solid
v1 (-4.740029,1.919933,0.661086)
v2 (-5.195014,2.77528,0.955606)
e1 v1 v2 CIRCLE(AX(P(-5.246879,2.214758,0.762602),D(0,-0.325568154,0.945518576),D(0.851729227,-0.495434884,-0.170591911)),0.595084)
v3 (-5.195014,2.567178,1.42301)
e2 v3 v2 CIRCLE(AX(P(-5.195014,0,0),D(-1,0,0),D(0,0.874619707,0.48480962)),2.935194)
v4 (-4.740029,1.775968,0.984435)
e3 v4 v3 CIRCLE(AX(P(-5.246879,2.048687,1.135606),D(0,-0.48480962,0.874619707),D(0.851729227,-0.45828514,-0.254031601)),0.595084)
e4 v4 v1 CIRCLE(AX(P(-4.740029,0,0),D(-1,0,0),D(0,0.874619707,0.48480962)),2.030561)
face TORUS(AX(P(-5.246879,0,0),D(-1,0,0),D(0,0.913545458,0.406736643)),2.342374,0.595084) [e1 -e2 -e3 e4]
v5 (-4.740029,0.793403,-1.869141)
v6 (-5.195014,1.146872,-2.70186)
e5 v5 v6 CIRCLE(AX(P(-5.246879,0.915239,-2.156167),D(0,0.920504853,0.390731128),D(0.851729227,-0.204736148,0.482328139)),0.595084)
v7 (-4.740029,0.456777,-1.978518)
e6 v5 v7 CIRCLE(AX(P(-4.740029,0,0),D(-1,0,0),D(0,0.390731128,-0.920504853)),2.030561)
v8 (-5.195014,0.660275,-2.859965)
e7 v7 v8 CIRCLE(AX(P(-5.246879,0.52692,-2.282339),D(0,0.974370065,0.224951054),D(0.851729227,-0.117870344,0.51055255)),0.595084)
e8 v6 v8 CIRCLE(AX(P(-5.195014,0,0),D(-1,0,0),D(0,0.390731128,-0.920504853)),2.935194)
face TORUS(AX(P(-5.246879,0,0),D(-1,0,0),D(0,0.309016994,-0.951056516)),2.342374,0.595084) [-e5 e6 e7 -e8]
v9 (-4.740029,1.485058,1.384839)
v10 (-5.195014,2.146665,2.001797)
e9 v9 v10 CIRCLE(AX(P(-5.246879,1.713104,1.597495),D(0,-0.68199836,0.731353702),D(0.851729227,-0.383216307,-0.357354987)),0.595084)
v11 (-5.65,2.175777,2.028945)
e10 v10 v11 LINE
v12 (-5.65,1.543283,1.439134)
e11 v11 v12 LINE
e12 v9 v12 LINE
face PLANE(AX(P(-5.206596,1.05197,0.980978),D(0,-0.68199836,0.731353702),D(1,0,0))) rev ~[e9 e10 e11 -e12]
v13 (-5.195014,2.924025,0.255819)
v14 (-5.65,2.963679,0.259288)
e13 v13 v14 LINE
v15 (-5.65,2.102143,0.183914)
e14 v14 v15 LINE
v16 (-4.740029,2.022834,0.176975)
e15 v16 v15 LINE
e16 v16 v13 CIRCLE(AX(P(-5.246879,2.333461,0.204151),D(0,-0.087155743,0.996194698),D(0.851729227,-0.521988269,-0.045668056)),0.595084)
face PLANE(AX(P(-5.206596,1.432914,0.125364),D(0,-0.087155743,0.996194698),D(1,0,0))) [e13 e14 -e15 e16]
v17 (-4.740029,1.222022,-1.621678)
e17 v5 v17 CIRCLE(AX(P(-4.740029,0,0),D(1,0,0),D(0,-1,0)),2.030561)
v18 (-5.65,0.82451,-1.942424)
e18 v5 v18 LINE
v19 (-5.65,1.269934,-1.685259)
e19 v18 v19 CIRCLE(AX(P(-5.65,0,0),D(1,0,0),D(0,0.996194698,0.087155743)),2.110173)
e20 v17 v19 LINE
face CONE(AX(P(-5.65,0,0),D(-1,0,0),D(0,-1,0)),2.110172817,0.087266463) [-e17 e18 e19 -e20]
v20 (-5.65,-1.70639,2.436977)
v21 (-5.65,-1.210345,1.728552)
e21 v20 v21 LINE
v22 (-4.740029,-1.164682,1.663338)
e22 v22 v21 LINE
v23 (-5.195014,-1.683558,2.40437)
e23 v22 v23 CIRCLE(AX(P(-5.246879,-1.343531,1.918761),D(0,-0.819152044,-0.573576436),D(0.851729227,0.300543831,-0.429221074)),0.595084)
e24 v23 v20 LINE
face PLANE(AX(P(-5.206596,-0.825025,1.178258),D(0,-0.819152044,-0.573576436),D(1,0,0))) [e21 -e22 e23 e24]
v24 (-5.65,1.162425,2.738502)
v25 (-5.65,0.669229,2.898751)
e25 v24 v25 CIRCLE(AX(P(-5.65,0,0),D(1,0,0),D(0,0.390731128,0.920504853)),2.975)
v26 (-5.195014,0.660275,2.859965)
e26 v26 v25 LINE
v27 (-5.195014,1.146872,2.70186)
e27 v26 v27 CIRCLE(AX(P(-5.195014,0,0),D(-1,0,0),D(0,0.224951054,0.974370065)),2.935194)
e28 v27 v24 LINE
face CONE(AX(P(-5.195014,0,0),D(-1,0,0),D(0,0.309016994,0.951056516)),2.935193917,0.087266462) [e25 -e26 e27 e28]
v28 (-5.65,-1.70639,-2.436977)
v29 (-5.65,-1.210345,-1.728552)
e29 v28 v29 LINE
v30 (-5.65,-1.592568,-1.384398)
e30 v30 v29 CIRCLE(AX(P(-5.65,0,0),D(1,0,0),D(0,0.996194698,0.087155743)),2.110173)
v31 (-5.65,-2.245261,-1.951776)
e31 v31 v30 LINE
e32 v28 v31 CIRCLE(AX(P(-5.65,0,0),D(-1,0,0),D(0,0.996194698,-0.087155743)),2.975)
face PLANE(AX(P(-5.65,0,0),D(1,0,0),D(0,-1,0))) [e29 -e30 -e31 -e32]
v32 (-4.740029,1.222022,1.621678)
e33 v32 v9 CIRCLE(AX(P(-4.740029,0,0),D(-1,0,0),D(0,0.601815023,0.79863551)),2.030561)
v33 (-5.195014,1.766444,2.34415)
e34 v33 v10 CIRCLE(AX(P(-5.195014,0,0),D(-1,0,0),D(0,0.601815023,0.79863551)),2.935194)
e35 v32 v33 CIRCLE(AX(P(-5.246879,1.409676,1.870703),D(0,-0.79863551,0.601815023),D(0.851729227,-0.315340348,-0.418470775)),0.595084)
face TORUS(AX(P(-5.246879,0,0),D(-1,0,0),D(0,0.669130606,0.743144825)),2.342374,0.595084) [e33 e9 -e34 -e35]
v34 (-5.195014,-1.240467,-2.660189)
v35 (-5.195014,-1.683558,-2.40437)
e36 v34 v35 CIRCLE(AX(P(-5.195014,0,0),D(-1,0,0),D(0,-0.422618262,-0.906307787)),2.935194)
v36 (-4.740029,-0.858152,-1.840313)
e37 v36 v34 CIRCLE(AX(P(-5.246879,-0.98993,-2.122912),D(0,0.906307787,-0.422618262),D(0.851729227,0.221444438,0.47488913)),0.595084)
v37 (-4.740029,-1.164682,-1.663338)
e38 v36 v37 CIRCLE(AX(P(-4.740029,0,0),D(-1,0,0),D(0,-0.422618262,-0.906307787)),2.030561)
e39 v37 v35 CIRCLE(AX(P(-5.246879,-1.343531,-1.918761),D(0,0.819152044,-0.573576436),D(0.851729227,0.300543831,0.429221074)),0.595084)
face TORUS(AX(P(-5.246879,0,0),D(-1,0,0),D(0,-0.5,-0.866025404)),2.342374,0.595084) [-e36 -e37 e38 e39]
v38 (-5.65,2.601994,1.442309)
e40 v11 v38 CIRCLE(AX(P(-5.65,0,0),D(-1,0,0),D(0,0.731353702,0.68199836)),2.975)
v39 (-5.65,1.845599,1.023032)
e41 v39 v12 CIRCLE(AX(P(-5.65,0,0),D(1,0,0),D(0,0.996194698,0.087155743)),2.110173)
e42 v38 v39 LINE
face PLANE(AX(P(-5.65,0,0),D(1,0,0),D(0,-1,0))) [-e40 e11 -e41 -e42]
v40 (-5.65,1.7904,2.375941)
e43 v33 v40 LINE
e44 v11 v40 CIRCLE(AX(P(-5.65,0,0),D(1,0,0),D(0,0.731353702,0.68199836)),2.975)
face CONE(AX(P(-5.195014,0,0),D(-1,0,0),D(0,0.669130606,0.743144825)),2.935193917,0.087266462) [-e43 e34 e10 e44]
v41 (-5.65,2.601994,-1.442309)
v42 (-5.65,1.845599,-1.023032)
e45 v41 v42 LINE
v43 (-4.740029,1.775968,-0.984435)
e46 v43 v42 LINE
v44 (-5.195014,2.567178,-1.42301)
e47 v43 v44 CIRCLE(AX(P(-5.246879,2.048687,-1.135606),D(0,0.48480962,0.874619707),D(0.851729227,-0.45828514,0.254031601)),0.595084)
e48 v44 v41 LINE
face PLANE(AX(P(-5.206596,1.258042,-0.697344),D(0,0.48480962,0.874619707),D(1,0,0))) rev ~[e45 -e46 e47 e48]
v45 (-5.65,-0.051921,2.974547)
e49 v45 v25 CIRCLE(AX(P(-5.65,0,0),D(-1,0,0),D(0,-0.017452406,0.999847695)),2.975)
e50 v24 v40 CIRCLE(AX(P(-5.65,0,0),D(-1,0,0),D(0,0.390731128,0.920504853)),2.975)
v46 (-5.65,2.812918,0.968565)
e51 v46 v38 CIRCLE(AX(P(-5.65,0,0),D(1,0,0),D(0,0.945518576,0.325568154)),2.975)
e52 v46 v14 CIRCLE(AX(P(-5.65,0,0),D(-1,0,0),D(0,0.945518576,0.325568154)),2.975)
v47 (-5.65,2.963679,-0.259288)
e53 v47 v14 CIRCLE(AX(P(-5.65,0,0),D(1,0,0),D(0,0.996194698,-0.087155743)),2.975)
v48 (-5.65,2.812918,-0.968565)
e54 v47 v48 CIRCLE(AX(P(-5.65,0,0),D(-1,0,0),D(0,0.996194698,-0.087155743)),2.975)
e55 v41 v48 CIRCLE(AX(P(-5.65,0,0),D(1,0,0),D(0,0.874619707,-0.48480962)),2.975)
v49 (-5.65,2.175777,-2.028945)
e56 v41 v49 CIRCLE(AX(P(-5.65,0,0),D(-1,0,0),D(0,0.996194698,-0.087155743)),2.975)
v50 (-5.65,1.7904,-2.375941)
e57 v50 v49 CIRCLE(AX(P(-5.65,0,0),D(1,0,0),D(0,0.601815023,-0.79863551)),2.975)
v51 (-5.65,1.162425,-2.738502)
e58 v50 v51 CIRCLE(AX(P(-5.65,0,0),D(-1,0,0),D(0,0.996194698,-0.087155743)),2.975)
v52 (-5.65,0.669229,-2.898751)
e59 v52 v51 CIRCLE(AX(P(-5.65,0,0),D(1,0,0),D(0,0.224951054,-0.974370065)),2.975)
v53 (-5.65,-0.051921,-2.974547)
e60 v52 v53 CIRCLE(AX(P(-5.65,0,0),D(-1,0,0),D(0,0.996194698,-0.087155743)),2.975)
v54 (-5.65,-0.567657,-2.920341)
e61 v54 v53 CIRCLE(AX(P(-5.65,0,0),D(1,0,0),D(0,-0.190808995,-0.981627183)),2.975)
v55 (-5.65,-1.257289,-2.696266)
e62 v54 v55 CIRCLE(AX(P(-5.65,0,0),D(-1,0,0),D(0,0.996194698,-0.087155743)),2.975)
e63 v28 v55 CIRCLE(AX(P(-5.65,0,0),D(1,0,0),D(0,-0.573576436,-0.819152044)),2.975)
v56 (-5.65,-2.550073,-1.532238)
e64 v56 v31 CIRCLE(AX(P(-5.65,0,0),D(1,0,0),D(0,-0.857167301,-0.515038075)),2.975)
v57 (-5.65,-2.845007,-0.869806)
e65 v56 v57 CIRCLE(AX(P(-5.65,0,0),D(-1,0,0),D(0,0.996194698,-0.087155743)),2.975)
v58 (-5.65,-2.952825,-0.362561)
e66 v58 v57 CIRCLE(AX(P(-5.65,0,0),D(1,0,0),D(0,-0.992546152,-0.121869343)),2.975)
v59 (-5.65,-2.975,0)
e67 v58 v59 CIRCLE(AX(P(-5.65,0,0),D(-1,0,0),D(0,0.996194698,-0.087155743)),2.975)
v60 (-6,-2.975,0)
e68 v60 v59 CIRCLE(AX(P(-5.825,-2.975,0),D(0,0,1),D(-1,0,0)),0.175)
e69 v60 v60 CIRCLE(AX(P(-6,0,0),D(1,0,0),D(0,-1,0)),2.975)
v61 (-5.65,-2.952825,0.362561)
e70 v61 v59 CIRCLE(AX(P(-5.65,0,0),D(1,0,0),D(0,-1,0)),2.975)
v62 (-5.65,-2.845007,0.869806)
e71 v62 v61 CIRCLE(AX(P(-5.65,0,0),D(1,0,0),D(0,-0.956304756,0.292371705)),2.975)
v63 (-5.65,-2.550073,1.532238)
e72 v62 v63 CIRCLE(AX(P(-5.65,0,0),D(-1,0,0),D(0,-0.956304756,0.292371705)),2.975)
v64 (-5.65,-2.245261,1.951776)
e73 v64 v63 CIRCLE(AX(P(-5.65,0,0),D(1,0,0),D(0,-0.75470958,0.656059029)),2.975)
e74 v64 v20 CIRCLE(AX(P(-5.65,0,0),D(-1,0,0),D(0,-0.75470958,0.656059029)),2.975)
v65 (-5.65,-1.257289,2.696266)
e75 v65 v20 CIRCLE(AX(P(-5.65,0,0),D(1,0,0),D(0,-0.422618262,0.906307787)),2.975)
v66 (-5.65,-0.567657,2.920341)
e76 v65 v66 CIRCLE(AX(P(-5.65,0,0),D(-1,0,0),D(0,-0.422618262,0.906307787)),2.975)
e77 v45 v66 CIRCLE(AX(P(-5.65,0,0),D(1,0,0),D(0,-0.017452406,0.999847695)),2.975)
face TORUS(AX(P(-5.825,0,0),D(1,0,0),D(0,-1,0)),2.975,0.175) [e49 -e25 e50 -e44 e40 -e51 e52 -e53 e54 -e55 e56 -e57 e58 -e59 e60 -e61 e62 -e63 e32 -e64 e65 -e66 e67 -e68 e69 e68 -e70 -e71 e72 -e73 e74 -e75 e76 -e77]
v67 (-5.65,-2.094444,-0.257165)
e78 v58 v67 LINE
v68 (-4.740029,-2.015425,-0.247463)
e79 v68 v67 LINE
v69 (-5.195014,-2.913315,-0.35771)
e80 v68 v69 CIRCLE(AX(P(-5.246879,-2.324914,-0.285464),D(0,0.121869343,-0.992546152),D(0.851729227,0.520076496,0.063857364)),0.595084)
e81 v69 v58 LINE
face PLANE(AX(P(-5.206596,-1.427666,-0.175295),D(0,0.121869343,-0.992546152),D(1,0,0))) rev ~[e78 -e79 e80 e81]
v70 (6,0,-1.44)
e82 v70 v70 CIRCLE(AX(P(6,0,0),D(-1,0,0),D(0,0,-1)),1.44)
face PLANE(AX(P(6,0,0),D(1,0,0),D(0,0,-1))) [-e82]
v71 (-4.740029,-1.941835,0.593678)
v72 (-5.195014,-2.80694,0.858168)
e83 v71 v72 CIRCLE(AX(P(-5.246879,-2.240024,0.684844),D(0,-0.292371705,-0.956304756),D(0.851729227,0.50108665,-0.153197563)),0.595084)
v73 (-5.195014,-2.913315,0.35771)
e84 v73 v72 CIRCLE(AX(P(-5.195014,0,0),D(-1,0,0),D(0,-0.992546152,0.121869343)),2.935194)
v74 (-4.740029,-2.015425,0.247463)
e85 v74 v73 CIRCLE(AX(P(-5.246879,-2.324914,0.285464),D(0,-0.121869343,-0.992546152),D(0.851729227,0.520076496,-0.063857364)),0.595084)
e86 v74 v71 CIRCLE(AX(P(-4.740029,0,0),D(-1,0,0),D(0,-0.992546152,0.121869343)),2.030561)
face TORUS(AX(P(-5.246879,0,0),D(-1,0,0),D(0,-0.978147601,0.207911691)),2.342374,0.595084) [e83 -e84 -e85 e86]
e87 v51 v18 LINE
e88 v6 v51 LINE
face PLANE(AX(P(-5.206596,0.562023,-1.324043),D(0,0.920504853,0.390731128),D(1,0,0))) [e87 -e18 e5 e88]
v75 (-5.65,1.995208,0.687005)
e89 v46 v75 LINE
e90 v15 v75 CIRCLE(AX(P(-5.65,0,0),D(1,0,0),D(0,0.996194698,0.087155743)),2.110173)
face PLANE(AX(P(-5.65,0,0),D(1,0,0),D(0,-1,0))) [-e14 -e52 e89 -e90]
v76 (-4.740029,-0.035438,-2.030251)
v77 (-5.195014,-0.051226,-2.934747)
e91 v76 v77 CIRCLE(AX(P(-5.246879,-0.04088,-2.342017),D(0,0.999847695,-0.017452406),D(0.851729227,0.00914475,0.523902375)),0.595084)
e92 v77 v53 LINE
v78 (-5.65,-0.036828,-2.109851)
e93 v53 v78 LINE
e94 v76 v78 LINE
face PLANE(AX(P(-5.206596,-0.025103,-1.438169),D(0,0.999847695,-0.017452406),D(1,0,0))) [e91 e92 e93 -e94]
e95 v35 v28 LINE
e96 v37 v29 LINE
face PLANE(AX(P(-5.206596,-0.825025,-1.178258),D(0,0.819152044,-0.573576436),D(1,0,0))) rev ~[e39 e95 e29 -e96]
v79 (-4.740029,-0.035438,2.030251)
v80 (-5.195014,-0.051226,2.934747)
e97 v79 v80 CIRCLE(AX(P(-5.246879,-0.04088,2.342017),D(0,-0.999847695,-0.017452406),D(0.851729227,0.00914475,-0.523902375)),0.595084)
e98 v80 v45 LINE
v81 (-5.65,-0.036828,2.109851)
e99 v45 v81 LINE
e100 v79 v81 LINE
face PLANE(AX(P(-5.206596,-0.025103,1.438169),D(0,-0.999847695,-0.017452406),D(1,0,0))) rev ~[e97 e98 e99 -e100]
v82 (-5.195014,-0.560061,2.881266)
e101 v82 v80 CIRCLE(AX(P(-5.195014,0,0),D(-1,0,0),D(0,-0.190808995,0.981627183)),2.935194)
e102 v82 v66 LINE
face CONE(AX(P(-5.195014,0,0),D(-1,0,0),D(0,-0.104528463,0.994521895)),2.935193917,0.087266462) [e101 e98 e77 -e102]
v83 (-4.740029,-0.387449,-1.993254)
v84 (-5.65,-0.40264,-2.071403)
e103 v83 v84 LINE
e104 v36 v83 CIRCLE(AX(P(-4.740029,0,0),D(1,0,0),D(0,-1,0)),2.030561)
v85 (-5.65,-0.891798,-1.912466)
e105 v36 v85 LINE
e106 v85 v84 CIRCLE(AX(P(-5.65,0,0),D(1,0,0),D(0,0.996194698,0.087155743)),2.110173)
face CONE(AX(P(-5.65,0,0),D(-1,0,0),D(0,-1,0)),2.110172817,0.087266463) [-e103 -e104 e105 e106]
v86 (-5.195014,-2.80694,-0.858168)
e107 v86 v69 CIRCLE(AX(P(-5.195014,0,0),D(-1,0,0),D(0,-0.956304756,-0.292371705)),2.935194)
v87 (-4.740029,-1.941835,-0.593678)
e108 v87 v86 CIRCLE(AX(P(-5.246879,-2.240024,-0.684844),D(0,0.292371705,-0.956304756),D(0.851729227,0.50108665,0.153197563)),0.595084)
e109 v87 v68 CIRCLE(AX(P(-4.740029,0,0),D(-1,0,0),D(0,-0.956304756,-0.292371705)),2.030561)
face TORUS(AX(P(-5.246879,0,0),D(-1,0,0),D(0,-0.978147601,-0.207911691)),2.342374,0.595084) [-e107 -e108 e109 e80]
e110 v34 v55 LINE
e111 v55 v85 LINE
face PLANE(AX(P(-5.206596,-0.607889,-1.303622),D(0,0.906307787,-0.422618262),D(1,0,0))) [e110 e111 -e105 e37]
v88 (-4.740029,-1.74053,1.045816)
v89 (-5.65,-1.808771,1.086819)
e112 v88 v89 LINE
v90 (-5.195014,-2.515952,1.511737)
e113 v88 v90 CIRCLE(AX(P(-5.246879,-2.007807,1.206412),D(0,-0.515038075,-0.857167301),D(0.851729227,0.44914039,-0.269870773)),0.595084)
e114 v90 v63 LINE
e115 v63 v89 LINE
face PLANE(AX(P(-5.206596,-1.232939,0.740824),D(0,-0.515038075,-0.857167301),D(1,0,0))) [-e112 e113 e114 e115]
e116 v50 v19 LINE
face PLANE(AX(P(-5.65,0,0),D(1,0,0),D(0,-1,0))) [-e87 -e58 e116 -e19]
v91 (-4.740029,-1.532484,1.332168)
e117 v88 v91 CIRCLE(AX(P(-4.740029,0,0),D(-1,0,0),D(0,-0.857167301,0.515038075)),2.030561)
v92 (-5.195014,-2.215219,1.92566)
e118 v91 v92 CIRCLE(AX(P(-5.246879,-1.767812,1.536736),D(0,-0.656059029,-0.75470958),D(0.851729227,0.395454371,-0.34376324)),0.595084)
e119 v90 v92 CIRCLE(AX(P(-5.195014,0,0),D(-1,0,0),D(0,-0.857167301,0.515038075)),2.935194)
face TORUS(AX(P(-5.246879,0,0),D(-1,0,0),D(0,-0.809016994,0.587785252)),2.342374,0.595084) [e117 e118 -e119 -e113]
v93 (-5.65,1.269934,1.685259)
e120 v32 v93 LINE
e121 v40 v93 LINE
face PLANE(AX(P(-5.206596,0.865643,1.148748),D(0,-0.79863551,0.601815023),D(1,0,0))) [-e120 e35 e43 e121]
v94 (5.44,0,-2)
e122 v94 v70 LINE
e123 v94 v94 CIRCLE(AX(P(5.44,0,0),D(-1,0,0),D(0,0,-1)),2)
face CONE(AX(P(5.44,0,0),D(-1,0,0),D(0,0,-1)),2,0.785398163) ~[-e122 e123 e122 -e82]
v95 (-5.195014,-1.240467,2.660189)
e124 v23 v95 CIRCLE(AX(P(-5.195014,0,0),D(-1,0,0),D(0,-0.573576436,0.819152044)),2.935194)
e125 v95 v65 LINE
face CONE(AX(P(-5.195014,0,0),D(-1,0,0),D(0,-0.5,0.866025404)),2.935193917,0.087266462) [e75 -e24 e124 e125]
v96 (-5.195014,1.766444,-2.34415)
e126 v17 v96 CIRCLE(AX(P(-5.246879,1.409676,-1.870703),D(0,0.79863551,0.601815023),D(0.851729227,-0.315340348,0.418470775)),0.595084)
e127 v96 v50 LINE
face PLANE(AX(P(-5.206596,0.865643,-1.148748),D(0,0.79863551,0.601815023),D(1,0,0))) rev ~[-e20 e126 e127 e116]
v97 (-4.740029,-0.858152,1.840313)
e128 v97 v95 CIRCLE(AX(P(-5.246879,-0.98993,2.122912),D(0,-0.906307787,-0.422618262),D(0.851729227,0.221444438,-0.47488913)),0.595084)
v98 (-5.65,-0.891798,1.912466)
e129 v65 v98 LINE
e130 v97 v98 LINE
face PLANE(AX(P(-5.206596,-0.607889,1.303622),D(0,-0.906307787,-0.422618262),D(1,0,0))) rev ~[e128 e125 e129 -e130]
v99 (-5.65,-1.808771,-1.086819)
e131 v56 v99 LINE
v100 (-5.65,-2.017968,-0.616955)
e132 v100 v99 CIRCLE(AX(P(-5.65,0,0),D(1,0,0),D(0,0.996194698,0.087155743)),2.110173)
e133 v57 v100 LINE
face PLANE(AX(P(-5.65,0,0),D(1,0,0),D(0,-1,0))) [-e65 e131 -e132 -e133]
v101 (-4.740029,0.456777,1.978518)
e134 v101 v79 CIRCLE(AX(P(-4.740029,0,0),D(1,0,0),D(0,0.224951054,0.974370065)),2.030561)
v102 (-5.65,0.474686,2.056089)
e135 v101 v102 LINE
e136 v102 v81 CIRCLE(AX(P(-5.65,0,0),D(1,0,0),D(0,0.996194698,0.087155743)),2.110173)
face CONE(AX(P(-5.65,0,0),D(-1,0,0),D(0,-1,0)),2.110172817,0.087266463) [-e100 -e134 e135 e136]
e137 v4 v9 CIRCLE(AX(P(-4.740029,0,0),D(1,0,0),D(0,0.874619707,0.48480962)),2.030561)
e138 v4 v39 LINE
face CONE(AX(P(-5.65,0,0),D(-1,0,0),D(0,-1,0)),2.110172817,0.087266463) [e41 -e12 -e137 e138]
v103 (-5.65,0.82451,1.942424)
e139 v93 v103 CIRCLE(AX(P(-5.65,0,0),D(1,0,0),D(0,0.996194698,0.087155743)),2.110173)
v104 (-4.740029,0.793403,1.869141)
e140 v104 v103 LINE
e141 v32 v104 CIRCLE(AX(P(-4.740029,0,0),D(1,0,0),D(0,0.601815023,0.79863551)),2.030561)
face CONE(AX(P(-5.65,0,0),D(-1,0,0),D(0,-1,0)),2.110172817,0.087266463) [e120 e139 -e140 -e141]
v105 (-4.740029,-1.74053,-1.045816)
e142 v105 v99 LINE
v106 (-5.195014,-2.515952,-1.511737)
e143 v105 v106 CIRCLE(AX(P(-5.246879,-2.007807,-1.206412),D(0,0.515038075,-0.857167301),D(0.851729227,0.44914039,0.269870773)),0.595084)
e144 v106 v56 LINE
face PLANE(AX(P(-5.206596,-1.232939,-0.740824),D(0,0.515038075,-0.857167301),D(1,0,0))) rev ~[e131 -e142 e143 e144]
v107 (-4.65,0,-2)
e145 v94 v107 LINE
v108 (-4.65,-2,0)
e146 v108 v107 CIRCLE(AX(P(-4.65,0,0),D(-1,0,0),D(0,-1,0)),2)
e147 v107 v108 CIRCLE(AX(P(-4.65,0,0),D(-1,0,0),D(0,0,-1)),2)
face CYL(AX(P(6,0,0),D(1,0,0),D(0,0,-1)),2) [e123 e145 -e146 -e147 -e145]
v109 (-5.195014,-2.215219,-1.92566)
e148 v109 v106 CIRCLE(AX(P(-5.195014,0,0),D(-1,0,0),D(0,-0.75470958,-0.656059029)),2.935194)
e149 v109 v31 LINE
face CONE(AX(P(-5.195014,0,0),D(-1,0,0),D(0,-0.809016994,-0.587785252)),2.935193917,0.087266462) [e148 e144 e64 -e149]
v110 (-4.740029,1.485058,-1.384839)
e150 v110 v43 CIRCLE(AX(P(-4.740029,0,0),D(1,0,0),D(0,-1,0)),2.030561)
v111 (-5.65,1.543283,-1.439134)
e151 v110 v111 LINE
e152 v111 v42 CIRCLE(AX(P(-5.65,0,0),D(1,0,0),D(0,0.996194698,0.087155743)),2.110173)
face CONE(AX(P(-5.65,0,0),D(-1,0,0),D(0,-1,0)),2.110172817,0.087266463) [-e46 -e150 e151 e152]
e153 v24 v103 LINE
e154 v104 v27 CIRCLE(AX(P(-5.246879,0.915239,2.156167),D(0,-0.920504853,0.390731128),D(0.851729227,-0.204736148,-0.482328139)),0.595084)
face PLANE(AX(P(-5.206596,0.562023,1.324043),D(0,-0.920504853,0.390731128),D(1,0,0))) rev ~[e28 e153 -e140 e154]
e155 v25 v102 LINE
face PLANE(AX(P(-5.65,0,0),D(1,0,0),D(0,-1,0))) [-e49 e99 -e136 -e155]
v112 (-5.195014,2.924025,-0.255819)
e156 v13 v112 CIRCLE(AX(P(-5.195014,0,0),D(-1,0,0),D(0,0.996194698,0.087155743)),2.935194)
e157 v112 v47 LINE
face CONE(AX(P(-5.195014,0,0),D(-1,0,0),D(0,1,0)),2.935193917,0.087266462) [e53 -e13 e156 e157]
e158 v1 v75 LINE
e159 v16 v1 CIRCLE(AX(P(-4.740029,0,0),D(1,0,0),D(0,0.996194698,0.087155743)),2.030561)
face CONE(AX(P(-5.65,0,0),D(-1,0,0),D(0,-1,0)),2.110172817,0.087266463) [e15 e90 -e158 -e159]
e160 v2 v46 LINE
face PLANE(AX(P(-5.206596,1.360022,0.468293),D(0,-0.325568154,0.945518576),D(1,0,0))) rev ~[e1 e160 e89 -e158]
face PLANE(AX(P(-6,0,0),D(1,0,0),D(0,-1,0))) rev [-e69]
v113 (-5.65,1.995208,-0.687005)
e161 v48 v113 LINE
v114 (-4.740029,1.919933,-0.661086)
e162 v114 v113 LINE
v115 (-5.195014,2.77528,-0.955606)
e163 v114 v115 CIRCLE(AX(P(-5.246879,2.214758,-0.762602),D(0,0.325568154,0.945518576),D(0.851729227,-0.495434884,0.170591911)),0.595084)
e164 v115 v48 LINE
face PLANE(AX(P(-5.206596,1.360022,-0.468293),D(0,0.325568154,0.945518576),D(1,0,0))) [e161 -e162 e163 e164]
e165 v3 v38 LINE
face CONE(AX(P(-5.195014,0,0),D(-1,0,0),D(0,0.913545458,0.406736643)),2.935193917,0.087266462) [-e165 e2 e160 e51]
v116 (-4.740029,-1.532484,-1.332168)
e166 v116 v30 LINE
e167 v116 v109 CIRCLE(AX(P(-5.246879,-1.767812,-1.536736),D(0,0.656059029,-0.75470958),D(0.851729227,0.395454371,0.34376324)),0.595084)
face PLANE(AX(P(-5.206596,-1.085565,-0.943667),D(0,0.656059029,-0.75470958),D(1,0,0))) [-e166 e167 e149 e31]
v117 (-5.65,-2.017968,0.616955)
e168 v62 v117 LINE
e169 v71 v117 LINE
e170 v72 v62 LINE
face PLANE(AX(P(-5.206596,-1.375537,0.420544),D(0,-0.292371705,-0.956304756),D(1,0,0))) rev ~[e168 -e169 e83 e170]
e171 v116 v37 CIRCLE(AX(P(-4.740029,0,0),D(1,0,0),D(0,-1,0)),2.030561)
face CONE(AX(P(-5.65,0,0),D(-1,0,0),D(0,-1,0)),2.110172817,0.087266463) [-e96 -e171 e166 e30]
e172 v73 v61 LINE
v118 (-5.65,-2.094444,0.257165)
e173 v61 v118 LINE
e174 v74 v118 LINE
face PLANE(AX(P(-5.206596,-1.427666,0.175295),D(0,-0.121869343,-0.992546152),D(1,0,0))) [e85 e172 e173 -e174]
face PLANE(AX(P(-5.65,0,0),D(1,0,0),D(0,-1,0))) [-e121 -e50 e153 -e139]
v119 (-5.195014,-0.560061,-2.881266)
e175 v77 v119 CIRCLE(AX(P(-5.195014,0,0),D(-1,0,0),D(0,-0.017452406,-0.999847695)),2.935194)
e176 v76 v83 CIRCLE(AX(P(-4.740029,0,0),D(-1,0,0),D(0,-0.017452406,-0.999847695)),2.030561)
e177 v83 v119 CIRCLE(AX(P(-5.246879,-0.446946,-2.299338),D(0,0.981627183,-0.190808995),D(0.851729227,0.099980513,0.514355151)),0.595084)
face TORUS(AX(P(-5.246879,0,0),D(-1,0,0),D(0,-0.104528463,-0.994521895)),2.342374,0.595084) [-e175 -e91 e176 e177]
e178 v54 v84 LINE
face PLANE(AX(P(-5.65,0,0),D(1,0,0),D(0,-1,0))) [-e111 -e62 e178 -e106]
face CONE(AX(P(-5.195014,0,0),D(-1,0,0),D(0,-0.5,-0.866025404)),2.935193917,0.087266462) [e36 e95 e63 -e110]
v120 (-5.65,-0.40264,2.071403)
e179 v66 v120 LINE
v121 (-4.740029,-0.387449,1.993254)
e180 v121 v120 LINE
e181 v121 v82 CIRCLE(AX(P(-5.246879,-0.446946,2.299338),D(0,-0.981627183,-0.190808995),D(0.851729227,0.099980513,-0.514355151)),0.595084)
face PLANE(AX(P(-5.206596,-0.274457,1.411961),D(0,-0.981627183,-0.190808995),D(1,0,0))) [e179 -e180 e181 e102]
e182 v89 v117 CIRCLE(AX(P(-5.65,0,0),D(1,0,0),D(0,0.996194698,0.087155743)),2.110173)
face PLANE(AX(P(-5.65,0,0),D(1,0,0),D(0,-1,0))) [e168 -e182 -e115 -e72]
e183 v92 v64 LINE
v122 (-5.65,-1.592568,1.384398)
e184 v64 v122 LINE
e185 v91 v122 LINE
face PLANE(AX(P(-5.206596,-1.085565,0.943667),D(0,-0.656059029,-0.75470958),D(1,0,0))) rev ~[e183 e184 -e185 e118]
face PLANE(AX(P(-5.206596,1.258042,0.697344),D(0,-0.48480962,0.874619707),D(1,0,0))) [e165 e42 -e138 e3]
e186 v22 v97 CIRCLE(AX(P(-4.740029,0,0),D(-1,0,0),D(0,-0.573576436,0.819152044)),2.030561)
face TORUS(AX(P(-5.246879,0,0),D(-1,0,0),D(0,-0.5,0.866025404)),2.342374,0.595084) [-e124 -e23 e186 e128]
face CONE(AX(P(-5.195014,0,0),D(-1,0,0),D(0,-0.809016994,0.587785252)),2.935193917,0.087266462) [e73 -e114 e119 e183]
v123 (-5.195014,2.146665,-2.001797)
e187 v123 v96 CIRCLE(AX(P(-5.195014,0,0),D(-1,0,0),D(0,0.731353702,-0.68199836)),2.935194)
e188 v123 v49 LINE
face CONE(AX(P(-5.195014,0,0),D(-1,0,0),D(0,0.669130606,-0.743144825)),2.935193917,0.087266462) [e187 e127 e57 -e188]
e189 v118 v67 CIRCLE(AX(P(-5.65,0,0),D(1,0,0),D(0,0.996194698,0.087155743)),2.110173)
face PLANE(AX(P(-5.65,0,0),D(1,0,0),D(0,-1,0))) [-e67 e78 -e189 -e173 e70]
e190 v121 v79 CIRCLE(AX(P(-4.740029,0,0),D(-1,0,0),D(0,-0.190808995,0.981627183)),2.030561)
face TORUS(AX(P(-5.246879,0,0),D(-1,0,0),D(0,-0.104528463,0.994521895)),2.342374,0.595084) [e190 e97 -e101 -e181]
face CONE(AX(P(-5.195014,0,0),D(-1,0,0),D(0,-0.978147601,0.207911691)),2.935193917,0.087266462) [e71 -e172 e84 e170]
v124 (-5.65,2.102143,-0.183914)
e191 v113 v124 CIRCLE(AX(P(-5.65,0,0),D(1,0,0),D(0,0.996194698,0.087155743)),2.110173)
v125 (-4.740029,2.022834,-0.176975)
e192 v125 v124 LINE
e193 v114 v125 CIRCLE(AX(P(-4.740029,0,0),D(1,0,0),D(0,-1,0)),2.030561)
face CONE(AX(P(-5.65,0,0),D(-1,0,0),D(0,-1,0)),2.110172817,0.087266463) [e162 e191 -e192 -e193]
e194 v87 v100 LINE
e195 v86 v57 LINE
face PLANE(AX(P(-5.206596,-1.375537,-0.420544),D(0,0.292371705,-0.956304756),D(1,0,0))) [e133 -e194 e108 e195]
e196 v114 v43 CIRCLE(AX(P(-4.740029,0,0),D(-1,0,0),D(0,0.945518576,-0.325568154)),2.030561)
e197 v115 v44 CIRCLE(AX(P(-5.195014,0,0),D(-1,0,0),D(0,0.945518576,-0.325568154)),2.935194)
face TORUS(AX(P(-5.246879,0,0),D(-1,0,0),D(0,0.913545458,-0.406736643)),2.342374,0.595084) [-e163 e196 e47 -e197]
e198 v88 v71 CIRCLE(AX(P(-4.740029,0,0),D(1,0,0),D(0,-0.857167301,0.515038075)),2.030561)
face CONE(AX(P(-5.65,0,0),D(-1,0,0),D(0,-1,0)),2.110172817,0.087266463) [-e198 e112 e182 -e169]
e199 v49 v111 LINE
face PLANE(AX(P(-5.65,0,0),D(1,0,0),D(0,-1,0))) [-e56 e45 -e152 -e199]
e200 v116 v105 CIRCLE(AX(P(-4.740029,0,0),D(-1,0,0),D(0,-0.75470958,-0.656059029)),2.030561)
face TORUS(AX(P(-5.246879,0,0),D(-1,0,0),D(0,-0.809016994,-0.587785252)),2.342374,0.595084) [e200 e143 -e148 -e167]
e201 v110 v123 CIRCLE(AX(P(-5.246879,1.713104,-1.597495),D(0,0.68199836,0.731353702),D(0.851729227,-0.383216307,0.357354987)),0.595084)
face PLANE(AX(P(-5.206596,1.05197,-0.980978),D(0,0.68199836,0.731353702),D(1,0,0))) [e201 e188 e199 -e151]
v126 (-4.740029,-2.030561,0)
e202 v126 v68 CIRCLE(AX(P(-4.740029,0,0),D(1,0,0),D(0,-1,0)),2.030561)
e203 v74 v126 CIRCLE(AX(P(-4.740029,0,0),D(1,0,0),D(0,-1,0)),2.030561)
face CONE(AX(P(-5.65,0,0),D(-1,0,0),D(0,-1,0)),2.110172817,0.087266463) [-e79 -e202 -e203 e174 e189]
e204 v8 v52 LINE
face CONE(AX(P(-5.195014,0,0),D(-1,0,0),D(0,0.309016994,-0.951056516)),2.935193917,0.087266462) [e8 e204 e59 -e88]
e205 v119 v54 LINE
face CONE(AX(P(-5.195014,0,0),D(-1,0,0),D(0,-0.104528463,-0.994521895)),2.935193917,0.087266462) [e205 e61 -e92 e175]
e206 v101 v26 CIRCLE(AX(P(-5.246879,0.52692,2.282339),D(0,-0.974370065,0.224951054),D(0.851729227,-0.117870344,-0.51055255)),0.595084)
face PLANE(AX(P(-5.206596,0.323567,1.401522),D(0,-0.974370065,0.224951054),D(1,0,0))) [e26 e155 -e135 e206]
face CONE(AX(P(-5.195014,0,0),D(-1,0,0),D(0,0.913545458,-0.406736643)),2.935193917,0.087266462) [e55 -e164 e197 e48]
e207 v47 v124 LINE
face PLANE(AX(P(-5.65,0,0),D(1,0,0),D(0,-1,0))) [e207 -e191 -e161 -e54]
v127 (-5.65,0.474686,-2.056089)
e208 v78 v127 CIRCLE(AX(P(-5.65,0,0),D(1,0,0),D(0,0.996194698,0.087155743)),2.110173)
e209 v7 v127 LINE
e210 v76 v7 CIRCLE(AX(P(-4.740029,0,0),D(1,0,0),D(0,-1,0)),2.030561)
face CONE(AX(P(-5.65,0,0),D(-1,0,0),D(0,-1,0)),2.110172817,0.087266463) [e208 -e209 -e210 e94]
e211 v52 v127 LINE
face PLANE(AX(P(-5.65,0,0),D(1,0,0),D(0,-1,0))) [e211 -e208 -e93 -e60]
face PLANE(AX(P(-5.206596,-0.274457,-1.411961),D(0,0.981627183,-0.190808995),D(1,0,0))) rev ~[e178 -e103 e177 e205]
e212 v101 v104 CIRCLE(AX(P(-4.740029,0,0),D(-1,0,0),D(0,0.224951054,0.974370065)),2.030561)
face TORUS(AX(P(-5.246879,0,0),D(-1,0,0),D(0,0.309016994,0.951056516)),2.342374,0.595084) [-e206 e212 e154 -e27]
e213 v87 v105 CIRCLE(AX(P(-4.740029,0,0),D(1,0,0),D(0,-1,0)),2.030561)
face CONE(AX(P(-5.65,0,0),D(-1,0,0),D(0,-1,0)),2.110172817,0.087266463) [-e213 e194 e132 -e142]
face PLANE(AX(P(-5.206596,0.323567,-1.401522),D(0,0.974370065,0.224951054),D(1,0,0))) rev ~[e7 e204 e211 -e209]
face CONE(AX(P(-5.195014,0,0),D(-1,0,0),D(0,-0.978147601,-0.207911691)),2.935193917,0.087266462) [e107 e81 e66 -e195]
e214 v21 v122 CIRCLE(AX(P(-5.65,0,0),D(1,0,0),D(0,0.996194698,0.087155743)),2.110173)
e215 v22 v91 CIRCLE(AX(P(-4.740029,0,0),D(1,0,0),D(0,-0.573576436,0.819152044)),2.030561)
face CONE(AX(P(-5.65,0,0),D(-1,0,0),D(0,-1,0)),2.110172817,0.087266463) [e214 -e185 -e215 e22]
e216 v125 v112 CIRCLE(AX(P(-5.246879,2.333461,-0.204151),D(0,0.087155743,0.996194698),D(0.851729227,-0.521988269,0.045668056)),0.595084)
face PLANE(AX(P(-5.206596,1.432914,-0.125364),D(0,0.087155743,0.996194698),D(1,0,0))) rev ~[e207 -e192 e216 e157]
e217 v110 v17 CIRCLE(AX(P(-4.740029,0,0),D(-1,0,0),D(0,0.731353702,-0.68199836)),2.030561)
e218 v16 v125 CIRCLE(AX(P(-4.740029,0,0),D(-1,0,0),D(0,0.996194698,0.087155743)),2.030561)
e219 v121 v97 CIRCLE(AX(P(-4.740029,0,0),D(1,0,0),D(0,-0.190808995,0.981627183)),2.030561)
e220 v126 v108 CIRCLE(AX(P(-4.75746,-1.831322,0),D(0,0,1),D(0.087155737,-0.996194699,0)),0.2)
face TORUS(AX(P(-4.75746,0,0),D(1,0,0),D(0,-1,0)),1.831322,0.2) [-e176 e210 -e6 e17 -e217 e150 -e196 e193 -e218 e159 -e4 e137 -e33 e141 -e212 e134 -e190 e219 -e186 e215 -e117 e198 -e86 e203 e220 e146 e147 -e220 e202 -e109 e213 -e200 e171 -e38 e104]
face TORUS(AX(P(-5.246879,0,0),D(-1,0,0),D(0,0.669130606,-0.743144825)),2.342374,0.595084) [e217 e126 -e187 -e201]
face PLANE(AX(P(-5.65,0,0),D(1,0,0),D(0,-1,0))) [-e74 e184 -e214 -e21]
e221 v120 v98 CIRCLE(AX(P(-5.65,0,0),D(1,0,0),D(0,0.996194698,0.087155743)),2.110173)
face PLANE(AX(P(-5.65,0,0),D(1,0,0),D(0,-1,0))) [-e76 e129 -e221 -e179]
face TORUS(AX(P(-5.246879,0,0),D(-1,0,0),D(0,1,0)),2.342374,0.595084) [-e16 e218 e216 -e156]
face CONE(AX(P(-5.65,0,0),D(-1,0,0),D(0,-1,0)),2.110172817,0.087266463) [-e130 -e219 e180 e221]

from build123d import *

# Parameters (mm, degrees)
BOSS_EXTRUDE1_START = 6
SKETCH2_R           = 2
BOSS_EXTRUDE1_DEPTH = 12
REVOLVE2_ANGLE      = 10
CIRPATTERN1_COUNT   = 15
CHAMFER1_SIZE       = 0.56


with BuildPart() as part:
    # Sketch2 → Boss-Extrude1 (new body)
    with BuildSketch(Plane(origin=(0, 0, 0), x_dir=(0, 0, -1), z_dir=(1, 0, 0)).offset(BOSS_EXTRUDE1_START)):
        Circle(SKETCH2_R)
    extrude(amount=-BOSS_EXTRUDE1_DEPTH)

    # Sketch5 → Revolve1 (revolve)
    with BuildSketch(Plane.XY, mode=Mode.PRIVATE) as revolve1_sk:
        with BuildLine():
            Line((-6, 0), (-6, 2.975))
            ThreePointArc((-6, 2.975), (-5.825, 3.15), (-5.65, 2.975))
            Line((-5.65, 2.975), (-5.65, 2.110172817))
            Line((-5.65, 2.110172817), (-4.740028773, 2.03056065))
            ThreePointArc((-4.740028773, 2.03056065), (-4.65, 2), (-4.584254841, 1.931321711))
            Line((-4.584254841, 1.931321711), (-3.469205731, 0))
            Line((-3.469205731, 0), (-6, 0))
        make_face()
    revolve(revolve1_sk.sketch.rotate(Axis((-6, 0, 0), (1, 0, 0)), 180), axis=Axis((-6, 0, 0), (1, 0, 0)))

    # Sketch6 → Revolve2 (revolve, symmetric)
    with BuildSketch(Plane.XY) as revolve2_sk:
        with BuildLine():
            Line((-5.65, 2.975), (-5.65, 0))
            Line((-5.65, 0), (-4.740028773, 0))
            Line((-4.740028773, 0), (-4.740028773, 2.03056065))
            ThreePointArc((-4.740028773, 2.03056065), (-4.715248765, 2.609757983), (-5.195014387, 2.935193917))
            Line((-5.195014387, 2.935193917), (-5.65, 2.975))
        make_face()
    revolve(axis=Axis((-5.65, 0, 0), (1, 0, 0)), revolution_arc=REVOLVE2_ANGLE / 2)
    revolve(revolve2_sk.sketch, axis=Axis((-5.65, 0, 0), (-1, 0, 0)), revolution_arc=REVOLVE2_ANGLE / 2)

    # CirPattern1: part ×15 about axis
    cirpattern1_axis = Axis((0, 0, 0), (1, 0, 0))


with BuildPart() as part_1:
    add(part.part)
    for i in range(1, CIRPATTERN1_COUNT):
        add(part.part.rotate(cirpattern1_axis, i * 360 / CIRPATTERN1_COUNT))

    # Chamfer1
    chamfer1_edges = [part_1.edges().sort_by_distance(p)[0] for p in [
        (6, 0, 2),
    ]]
    chamfer(chamfer1_edges, length=CHAMFER1_SIZE)


solid = part_1.part
